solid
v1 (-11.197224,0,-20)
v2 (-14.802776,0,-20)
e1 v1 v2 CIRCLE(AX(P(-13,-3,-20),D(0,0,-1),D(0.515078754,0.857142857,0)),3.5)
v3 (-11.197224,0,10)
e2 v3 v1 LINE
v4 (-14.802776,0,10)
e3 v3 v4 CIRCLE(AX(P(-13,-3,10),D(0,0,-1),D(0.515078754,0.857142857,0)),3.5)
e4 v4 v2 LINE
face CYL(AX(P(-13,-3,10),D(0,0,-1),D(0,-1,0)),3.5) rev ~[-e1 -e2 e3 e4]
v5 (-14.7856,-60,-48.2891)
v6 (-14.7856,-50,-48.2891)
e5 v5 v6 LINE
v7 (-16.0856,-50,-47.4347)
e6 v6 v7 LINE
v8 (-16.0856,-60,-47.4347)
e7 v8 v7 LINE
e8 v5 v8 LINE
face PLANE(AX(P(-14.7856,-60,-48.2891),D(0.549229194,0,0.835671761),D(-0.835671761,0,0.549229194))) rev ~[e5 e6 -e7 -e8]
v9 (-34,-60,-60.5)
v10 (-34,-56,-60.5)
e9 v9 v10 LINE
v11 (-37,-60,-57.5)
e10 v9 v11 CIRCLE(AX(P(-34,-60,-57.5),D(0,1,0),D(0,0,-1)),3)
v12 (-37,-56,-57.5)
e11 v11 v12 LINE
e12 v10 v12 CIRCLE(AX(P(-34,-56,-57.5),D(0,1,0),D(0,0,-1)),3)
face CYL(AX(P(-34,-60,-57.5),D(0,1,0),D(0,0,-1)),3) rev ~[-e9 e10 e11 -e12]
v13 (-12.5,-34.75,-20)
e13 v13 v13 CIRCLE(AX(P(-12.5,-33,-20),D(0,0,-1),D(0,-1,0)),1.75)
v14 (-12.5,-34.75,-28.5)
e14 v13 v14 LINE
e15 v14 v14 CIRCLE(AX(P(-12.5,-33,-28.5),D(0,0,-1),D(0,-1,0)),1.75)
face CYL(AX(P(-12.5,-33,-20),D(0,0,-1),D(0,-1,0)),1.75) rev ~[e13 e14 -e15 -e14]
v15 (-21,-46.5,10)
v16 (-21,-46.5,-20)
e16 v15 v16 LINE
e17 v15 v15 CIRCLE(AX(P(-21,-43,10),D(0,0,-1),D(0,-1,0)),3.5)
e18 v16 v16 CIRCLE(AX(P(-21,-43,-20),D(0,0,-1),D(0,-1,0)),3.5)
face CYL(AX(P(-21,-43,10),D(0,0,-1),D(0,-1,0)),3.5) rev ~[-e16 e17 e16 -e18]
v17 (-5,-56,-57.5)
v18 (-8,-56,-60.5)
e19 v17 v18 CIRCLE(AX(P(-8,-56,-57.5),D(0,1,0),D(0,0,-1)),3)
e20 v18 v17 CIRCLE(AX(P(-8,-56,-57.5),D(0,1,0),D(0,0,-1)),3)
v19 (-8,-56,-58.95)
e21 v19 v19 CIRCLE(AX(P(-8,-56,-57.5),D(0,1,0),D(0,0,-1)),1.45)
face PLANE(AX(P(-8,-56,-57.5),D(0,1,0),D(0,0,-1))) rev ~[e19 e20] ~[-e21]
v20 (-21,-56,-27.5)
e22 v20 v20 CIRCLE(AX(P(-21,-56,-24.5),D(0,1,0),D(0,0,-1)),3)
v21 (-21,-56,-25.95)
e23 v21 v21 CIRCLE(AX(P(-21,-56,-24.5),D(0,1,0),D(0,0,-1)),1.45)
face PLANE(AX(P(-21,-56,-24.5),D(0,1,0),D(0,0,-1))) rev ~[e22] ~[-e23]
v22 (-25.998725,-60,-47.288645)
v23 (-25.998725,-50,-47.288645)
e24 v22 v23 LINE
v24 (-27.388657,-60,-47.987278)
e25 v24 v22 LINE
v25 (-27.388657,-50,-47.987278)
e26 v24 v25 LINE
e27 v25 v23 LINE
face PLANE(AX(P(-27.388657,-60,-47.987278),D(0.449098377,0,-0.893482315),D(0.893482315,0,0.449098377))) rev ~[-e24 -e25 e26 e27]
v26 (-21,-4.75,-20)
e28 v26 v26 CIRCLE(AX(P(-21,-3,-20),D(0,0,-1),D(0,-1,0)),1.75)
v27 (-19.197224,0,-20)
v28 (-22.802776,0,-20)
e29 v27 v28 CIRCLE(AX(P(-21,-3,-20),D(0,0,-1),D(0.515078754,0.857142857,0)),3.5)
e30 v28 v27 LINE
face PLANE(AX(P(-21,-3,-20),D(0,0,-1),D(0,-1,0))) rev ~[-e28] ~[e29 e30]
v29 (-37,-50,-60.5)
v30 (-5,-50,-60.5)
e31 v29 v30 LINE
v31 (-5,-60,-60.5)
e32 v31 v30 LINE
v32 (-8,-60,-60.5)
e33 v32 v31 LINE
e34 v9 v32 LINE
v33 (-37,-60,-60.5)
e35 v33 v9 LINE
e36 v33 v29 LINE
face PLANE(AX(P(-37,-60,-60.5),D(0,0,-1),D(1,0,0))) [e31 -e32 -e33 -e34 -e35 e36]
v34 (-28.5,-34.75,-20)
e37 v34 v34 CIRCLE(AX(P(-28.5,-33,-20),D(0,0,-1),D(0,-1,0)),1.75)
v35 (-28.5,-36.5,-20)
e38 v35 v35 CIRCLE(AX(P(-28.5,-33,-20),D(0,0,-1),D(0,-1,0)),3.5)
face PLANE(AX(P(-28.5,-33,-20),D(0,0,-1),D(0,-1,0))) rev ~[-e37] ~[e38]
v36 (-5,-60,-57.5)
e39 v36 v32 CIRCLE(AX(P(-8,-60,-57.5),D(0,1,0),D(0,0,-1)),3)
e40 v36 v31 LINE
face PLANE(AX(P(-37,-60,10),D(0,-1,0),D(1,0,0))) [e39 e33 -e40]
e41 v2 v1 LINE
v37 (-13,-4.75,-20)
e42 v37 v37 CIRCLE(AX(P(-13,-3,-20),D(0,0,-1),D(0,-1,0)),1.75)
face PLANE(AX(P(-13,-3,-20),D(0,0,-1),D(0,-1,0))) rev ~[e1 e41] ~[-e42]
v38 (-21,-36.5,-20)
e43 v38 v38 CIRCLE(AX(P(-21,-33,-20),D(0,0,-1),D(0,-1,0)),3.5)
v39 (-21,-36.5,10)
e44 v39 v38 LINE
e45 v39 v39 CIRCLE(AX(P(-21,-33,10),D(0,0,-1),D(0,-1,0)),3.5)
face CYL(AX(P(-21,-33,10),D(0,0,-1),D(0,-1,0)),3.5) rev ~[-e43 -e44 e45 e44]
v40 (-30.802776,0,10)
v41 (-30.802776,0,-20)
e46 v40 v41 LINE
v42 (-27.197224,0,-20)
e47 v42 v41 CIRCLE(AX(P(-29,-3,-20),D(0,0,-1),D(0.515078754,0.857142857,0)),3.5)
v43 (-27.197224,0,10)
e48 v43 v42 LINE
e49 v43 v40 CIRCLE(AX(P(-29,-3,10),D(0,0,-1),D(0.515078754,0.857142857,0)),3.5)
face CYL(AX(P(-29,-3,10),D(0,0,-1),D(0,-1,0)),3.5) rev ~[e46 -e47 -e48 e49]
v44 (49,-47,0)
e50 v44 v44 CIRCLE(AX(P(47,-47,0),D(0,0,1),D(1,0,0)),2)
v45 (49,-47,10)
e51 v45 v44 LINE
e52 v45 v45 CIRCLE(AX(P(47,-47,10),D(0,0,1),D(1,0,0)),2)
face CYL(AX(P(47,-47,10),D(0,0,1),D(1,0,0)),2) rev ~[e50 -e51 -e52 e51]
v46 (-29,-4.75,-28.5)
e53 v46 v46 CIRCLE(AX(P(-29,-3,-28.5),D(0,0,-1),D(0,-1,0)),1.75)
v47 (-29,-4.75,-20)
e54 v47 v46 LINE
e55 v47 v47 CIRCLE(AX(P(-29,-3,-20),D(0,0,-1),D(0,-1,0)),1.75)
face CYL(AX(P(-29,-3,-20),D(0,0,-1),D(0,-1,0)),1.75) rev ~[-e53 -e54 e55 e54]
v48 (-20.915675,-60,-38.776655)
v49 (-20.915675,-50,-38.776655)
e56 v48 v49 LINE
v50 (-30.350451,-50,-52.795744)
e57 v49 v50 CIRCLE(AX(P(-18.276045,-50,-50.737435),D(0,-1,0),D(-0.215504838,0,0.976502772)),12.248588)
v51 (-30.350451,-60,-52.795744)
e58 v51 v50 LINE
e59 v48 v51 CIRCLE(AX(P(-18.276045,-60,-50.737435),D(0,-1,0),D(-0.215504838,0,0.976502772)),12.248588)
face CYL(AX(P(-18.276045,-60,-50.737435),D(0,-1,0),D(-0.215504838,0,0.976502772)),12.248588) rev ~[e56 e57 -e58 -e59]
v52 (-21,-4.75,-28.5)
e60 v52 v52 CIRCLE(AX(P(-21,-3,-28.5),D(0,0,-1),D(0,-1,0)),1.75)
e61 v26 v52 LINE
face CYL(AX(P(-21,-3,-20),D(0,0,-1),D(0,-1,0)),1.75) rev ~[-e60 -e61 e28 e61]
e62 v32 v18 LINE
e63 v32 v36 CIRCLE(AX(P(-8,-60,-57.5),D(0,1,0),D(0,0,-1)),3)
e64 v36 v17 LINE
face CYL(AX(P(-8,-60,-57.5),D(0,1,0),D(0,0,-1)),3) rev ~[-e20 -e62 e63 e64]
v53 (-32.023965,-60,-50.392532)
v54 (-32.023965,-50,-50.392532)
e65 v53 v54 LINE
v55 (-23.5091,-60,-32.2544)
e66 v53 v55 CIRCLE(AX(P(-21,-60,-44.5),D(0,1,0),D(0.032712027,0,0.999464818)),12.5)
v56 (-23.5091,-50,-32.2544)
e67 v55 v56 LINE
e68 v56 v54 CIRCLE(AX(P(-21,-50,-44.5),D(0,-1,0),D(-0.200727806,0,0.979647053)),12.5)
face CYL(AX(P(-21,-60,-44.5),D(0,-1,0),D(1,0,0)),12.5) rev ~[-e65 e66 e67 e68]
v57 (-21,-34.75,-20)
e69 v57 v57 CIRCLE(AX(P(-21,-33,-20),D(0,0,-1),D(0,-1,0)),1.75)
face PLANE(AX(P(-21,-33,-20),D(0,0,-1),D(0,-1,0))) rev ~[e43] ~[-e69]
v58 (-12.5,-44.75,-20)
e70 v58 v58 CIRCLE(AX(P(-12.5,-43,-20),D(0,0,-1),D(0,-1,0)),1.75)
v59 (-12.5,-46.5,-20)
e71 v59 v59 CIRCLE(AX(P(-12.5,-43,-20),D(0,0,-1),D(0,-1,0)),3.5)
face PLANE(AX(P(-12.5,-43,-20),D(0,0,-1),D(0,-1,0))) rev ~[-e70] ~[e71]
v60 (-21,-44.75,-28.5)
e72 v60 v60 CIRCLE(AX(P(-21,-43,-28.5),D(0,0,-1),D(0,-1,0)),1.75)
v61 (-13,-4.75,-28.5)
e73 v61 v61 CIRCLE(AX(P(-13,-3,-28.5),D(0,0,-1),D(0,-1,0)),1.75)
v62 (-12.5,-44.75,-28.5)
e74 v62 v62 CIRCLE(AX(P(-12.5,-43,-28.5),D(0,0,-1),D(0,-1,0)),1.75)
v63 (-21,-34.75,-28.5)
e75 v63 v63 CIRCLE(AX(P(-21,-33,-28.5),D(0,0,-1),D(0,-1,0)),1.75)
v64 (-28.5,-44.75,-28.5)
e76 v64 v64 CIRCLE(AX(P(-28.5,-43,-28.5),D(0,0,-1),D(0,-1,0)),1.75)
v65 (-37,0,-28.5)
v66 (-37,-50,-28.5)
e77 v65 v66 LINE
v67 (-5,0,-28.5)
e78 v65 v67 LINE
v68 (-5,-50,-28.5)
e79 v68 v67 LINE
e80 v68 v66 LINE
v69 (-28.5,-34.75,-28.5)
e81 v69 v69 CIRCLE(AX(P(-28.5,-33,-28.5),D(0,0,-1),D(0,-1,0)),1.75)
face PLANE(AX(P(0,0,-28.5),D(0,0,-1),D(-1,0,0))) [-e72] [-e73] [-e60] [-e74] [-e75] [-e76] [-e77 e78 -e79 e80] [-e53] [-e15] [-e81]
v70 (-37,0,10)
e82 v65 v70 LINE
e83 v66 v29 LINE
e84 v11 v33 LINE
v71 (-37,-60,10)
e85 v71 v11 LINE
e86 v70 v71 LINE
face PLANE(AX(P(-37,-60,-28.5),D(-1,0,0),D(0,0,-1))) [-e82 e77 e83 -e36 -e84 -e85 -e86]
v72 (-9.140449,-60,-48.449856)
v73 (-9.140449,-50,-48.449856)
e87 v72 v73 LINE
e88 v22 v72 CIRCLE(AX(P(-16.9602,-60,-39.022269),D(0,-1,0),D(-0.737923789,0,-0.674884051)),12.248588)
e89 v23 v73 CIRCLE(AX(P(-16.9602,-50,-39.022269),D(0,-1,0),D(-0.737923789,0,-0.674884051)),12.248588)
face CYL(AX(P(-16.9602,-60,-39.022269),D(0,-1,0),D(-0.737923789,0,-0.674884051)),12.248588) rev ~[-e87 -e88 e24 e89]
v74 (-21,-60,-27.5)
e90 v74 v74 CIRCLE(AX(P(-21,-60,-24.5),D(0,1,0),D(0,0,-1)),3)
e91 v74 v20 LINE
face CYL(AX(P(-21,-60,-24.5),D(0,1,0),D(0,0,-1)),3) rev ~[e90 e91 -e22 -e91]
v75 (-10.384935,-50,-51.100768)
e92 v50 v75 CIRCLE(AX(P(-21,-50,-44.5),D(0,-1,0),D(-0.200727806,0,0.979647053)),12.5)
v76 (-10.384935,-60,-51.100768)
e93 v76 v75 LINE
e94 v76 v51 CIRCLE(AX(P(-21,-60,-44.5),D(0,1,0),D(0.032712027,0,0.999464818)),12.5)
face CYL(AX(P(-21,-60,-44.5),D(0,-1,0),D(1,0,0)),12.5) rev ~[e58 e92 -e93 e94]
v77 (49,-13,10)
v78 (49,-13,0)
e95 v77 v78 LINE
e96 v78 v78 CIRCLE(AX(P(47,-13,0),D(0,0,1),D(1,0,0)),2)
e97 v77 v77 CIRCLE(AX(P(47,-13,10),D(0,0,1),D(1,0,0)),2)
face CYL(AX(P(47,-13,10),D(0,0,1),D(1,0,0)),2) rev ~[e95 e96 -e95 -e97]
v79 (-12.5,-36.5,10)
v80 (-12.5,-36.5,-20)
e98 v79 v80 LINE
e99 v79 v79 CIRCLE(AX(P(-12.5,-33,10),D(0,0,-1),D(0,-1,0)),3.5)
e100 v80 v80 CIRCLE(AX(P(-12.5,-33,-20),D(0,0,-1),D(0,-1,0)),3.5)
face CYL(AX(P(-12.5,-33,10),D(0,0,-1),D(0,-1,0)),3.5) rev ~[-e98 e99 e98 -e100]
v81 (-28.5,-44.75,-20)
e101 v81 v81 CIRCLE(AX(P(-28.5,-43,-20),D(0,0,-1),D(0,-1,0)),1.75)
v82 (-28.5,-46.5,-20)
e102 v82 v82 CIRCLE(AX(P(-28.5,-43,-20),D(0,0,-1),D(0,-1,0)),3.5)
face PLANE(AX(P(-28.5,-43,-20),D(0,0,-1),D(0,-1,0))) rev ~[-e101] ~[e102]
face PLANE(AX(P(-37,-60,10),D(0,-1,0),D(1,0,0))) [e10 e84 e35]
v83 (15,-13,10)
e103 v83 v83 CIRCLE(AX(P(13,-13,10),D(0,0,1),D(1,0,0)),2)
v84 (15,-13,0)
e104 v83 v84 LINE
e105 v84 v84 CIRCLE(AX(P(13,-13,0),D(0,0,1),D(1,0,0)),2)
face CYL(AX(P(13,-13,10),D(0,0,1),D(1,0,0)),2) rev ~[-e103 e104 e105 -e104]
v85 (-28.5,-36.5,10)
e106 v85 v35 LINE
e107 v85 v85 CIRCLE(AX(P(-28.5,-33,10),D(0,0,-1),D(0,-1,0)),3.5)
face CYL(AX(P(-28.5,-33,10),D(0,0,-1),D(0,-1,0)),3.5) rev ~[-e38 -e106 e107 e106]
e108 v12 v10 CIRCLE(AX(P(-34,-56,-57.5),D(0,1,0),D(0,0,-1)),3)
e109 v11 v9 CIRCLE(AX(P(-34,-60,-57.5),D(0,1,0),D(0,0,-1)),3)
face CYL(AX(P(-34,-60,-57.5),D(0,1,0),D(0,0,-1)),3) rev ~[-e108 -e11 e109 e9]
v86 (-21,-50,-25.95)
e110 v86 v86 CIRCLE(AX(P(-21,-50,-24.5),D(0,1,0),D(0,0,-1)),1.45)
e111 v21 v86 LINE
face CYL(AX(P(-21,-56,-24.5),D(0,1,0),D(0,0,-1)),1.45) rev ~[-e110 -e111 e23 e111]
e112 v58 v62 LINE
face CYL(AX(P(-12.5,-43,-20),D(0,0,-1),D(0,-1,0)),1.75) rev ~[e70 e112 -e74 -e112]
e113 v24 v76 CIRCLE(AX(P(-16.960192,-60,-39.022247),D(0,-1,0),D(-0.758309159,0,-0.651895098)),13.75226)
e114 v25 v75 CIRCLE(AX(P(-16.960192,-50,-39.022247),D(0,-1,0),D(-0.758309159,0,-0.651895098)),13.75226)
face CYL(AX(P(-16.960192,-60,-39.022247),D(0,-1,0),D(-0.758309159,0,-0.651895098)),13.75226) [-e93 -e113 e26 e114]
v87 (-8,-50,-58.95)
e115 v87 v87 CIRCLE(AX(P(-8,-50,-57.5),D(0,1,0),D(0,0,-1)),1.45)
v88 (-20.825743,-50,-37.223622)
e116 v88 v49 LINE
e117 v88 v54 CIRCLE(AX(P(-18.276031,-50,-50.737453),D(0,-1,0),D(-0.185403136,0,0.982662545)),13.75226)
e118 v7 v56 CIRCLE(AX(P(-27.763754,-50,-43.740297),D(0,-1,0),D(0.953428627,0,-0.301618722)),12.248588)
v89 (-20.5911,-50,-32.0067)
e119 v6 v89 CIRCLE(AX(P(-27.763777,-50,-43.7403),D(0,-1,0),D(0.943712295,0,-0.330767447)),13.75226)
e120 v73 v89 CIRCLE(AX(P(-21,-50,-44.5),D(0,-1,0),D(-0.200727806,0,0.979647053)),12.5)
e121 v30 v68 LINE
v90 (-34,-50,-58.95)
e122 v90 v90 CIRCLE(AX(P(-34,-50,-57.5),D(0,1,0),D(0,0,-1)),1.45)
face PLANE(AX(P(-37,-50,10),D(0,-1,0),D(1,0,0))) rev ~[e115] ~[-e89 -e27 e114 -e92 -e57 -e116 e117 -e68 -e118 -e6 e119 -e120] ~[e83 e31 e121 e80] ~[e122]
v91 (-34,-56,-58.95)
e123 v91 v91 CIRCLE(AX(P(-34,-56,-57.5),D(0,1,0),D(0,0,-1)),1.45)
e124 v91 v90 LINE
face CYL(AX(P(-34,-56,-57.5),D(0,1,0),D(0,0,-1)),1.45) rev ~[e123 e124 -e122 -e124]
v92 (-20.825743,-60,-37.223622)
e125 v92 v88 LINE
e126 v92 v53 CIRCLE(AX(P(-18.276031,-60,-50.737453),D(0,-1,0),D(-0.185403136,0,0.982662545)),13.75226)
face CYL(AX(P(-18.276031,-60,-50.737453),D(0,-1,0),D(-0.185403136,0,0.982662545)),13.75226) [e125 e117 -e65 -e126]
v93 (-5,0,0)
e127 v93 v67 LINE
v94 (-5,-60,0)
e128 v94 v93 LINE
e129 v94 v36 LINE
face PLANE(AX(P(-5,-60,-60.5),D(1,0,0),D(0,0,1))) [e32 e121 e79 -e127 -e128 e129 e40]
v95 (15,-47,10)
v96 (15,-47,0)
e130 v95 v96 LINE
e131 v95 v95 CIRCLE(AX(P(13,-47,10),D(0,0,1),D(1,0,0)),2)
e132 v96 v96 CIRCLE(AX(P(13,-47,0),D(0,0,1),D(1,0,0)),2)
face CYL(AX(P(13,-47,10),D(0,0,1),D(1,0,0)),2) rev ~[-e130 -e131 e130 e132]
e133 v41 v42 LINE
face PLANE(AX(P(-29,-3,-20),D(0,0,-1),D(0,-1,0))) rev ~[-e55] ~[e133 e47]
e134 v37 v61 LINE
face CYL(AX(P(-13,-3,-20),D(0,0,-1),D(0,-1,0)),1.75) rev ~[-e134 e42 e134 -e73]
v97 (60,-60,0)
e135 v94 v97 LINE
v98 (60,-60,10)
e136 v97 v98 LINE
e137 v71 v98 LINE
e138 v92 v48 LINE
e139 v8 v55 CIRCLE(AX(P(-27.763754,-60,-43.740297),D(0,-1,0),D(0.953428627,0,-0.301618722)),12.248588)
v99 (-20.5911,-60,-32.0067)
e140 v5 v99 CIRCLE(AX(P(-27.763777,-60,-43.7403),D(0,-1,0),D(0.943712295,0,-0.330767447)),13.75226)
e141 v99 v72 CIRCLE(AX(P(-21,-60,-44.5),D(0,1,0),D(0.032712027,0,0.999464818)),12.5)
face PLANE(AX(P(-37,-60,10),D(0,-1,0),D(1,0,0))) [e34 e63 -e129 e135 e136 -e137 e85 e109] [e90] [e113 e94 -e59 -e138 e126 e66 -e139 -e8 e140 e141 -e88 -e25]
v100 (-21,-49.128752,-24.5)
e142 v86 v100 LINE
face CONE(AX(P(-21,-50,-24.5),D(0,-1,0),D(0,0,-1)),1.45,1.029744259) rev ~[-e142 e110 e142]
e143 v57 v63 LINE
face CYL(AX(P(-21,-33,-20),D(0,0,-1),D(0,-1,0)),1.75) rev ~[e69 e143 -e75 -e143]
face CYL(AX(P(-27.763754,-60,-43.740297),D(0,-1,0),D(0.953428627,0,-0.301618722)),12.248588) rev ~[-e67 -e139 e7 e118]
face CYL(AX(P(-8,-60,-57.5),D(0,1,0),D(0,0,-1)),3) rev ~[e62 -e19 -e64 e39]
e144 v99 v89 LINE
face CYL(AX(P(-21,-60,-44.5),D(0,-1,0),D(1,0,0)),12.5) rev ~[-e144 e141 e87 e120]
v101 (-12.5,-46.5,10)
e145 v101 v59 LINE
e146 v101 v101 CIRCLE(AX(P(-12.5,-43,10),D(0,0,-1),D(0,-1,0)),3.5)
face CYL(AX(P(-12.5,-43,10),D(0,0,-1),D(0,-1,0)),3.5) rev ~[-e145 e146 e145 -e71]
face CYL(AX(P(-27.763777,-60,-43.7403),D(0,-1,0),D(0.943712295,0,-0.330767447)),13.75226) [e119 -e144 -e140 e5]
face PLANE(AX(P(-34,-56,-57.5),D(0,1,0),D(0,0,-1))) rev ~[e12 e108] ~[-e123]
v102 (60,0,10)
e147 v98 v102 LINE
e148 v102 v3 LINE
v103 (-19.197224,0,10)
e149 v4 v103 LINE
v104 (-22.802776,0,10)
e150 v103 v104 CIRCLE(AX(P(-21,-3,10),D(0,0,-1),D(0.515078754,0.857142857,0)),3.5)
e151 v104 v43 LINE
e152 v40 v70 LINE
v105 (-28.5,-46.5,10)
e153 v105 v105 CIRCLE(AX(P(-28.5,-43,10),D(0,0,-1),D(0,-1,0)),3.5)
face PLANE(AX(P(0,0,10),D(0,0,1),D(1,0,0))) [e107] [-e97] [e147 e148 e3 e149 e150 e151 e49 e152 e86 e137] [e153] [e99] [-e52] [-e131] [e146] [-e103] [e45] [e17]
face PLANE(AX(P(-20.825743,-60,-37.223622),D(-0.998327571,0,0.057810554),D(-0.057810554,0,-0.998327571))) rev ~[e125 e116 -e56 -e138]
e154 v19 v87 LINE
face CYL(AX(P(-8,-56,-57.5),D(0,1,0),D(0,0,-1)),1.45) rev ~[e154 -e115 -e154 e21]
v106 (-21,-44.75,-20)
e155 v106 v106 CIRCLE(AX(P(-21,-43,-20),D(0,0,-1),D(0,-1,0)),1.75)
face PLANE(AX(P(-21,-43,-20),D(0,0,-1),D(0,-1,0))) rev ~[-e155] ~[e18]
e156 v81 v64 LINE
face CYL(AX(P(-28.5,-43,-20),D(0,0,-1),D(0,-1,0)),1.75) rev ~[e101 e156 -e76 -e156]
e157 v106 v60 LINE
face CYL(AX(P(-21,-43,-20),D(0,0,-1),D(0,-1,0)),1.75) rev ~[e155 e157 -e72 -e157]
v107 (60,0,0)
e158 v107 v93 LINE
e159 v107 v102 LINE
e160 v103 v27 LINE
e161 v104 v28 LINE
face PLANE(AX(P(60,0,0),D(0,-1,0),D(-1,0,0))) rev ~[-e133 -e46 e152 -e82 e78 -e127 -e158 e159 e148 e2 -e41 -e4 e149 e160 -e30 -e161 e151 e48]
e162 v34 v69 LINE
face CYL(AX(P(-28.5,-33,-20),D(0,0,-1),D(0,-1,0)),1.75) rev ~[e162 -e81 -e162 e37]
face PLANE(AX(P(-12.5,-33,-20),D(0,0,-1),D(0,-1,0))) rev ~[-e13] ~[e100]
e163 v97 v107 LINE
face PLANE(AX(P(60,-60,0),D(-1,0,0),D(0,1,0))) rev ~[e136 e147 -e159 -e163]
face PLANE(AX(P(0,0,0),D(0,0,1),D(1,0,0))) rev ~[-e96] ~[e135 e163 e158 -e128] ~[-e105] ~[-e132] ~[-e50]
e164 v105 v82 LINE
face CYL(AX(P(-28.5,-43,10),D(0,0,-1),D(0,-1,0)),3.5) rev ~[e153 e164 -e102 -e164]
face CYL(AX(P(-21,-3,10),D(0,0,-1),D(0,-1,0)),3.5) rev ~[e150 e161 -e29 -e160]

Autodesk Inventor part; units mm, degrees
ref_plane "YZ Plane" through (0, 0, 0) normal (1, 0, 0) x (0, 1, 0)
ref_plane "XZ Plane" through (0, 0, 0) normal (0, 1, 0) x (-1, 0, 0)
ref_plane "Work Plane1" through (0, 0, 0) normal (0, 0, 1) x (1, 0, 0)
sketch "Sketch1" plane through (0, 0, 0) normal (0, 0, 1) x (1, 0, 0)
  arc A0 (27, -22.0618) -> (22.0618, -27) centre (24.7, -24.7) ccw construction
  line L0 (27, 0) -> (27, -22.0618) construction
  line L1 (27, 0) -> (0, 0) construction
  line L2 (0, 0) -> (0, -27) construction
  line L3 (22.0618, -27) -> (0, -27) construction
  circle A1 centre (13, -13) radius 1.65 construction
  circle A2 centre (10, -22.5) radius 1.55 construction
  circle A3 centre (10, -7.5) radius 1.55 construction
  circle A4 centre (20, -20) radius 1.05 construction
  circle A5 centre (7.5, -10) radius 1.55 construction
  circle A6 centre (22.5, -10) radius 1.55 construction
  arc A7 (22.0618, -33) -> (27, -37.9382) centre (24.7, -35.3) ccw construction
  line L4 (0, -33) -> (22.0618, -33) construction
  line L5 (0, -33) -> (0, -60) construction
  line L6 (0, -60) -> (27, -60) construction
  line L7 (27, -37.9382) -> (27, -60) construction
  circle A8 centre (13, -47) radius 1.65 construction
  circle A9 centre (10, -52.5) radius 1.55 construction
  circle A10 centre (10, -37.5) radius 1.55 construction
  circle A11 centre (20, -40) radius 1.05 construction
  circle A12 centre (7.5, -50) radius 1.55 construction
  circle A13 centre (22.5, -50) radius 1.55 construction
  arc A14 (33, -37.9382) -> (37.9382, -33) centre (35.3, -35.3) ccw construction
  line L8 (33, -60) -> (33, -37.9382) construction
  line L9 (33, -60) -> (60, -60) construction
  line L10 (60, -60) -> (60, -33) construction
  line L11 (37.9382, -33) -> (60, -33) construction
  circle A15 centre (47, -47) radius 1.65 construction
  circle A16 centre (50, -52.5) radius 1.55 construction
  circle A17 centre (50, -37.5) radius 1.55 construction
  circle A18 centre (40, -40) radius 1.05 construction
  circle A19 centre (37.5, -50) radius 1.55 construction
  circle A20 centre (52.5, -50) radius 1.55 construction
  arc A21 (37.9382, -27) -> (33, -22.0618) centre (35.3, -24.7) ccw construction
  line L12 (60, -27) -> (37.9382, -27) construction
  line L13 (60, -27) -> (60, 0) construction
  line L14 (60, 0) -> (33, 0) construction
  line L15 (33, -22.0618) -> (33, 0) construction
  circle A22 centre (47, -13) radius 1.65 construction
  circle A23 centre (50, -22.5) radius 1.55 construction
  circle A24 centre (50, -7.5) radius 1.55 construction
  circle A25 centre (40, -20) radius 1.05 construction
  circle A26 centre (37.5, -10) radius 1.55 construction
  circle A27 centre (52.5, -10) radius 1.55 construction
  line L16 (60, 0) -> (-37, 0) construction
  line L17 (-37, 0) -> (-37, -60) construction
  line L18 (-37, -60) -> (60, -60) construction
  line L19 (60, -60) -> (60, 0) construction
  line L20 (60, 0) -> (-37, 0)
  line L21 (-37, 0) -> (-37, -60)
  line L22 (-37, -60) -> (60, -60)
  line L23 (60, -60) -> (60, 0)
  line L24 (-37, 0) -> (-37, -48) projected
extrude "Extrusion1" add sketch "Sketch1" along normal blind 10
sketch "Sketch2" plane through (0, 0, 0) normal (0, 0, -1) x (-1, 0, 0)
  circle A0 centre (21, -3) radius 1 projected
  circle A1 centre (28.5, -33) radius 1 projected
  circle A2 centre (12.5, -33) radius 1.0474 projected
  circle A3 centre (12.5, -43) radius 1 projected
  circle A4 centre (21, -43) radius 1 projected
  circle A5 centre (28.5, -43) radius 1 projected
  circle A6 centre (21, -33) radius 1 projected
  circle A7 centre (29, -3) radius 1 projected
  circle A8 centre (13, -3) radius 1 projected
  line L0 (37, 0) -> (5, 0) projected
  line L1 (37, 0) -> (37, -48) projected
  line L2 (5, -48) -> (37, -48) projected
  line L3 (5, 0) -> (5, -48) projected
  line L4 (37, -48) -> (5, -48)
  line L5 (5, -48) -> (5, -60)
  line L6 (5, -60) -> (37, -60)
  line L7 (37, -60) -> (37, -48)
  point P0 (0, 0)
ref_plane "Work Plane2" through (-37, -48, -28.5) normal (0, 0, 1) x (1, 0, 0)
extrude "Extrusion2" add sketch "Sketch2" along normal up to surface (28.5 mm away) contours A0 | A1 | A2 | A3 | A4 | A5 | A6 | A7 | A8 | L1 L2 L3 L0 | L7 L6 L5 L2
sketch "Sketch3" plane through (0, 0, 10) normal (0, 0, 1) x (1, 0, 0)
  line L0 (0, 0) -> (0, -60) construction
  line L1 (60, 0) -> (0, 0) construction
  line L2 (60, -60) -> (60, 0) construction
  line L3 (0, -60) -> (60, -60) construction
  line L4 (27.1959, -58) -> (26.6538, -58) construction
  line L5 (27.7692, -53.6731) -> (27.1959, -58) construction
  line L6 (29.9435, -58) -> (27.7692, -53.6731) construction
  line L7 (30.0649, -58) -> (29.9435, -58) construction
  line L8 (32.2308, -53.6827) -> (30.0649, -58) construction
  line L9 (32.8053, -58) -> (32.2308, -53.6827) construction
  line L10 (33.3462, -58) -> (32.8053, -58) construction
  line L11 (32.5493, -52) -> (33.3462, -58) construction
  line L12 (32.4712, -52) -> (32.5493, -52) construction
  line L13 (30, -56.9231) -> (32.4712, -52) construction
  line L14 (27.5228, -52) -> (30, -56.9231) construction
  line L15 (27.4459, -52) -> (27.5228, -52) construction
  line L16 (26.6538, -58) -> (27.4459, -52) construction
  circle A0 centre (24.7, -24.7) radius 1.6 construction
  circle A1 centre (35.3, -24.7) radius 1.6 construction
  circle A2 centre (35.3, -35.3) radius 1.6 construction
  circle A3 centre (24.7, -35.3) radius 1.6 construction
  circle A4 centre (52.5, -50) radius 1.55 construction
  circle A5 centre (52.5, -10) radius 1.55 construction
  circle A6 centre (37.5, -50) radius 1.55 construction
  circle A7 centre (37.5, -10) radius 1.55 construction
  circle A8 centre (22.5, -50) radius 1.55 construction
  circle A9 centre (22.5, -10) radius 1.55 construction
  circle A10 centre (7.5, -50) radius 1.55 construction
  circle A11 centre (7.5, -10) radius 1.55 construction
  circle A12 centre (40, -40) radius 1.05 construction
  circle A13 centre (20, -40) radius 1.05 construction
  circle A14 centre (40, -20) radius 1.05 construction
  circle A15 centre (20, -20) radius 1.05 construction
  circle A16 centre (47, -47) radius 1.65 construction
  circle A17 centre (13, -47) radius 1.65 construction
  circle A18 centre (30, -47) radius 1.65 construction
  circle A19 centre (47, -13) radius 1.65 construction
  circle A20 centre (13, -13) radius 1.65 construction
  circle A21 centre (30, -13) radius 1.65 construction
  circle A22 centre (47, -30) radius 1.65 construction
  circle A23 centre (13, -30) radius 1.65 construction
  circle A24 centre (30, -30) radius 1.65 construction
  circle A25 centre (10, -52.5) radius 1.55 construction
  circle A26 centre (10, -37.5) radius 1.55 construction
  circle A27 centre (10, -22.5) radius 1.55 construction
  circle A28 centre (10, -7.5) radius 1.55 construction
  circle A29 centre (50, -52.5) radius 1.55 construction
  circle A30 centre (50, -37.5) radius 1.55 construction
  circle A31 centre (50, -22.5) radius 1.55 construction
  circle A32 centre (50, -7.5) radius 1.55 construction
  circle A33 centre (13, -13) radius 1.65 construction
  circle A34 centre (13, -13) radius 1.65 projected
  circle A35 centre (47, -13) radius 1.65 projected
  circle A36 centre (47, -47) radius 1.65 projected
  circle A37 centre (13, -47) radius 1.65 projected
  circle A38 centre (13, -13) radius 2
  circle A39 centre (47, -13) radius 2
  circle A40 centre (47, -47) radius 2
  circle A41 centre (13, -47) radius 2
  dimension "d6" = 4
  dimension "d7" = 4
  dimension "d8" = 4
  dimension "d9" = 4
extrude "Extrusion3" cut sketch "Sketch3" against normal through all contours A34 | A35 | A36 | A37 | A38 | A39 | A40 | A41
sketch "Sketch4" plane through (0, 0, 10) normal (0, 0, 1) x (1, 0, 0)
  circle A0 centre (-21, -3) radius 1 projected
  circle A1 centre (-28.5, -33) radius 1 projected
  circle A2 centre (-12.5, -33) radius 1.0474 projected
  circle A3 centre (-12.5, -43) radius 1 projected
  circle A4 centre (-21, -43) radius 1 projected
  circle A5 centre (-28.5, -43) radius 1 projected
  circle A6 centre (-21, -33) radius 1 projected
  circle A7 centre (-29, -3) radius 1 projected
  circle A8 centre (-13, -3) radius 1 projected
  line L0 (-37, 0) -> (-5, 0) projected
  line L1 (-37, 0) -> (-37, -48) projected
  line L2 (-5, -48) -> (-37, -48) projected
  line L3 (-5, 0) -> (-5, -48) projected
  point P0 (0, 0)
hole "Hole1" at (-12.5, -43, 10) at (-21, -43, 10) at (-28.5, -43, 10) at (-28.5, -33, 10) at (-21, -33, 10) at (-12.5, -33, 10) at (-13, -3, 10) at (-21, -3, 10) at (-29, -3, 10) direction (0, 0, -1) diameter 3.5 end through all counterbore diameter 7 counterbore depth 30
sketch "Sketch5" plane through (-37, -60, 10) normal (0, -1, 0) x (1, 0, 0)
  line L0 (32, -10) -> (97, -10) projected
  line L1 (97, -10) -> (97, 0) projected
  line L2 (0, 0) -> (97, 0) projected
  line L3 (0, -38.5) -> (0, 0) projected
  line L4 (32, -38.5) -> (0, -38.5) projected
  line L5 (32, -10) -> (32, -38.5) projected
  circle A0 centre (16, -54.5) radius 2.5 construction
  line L6 (0, -70.5) -> (32, -70.5) projected
  line L7 (32, -38.5) -> (0, -38.5)
  line L8 (0, -38.5) -> (0, -70.5)
  line L9 (0, -70.5) -> (32, -70.5)
  line L10 (32, -70.5) -> (32, -38.5)
  circle A1 centre (16, -54.5) radius 12.5
  point P0 (37, -10)
  dimension "d18" = 25
extrude "Extrusion4" add sketch "Sketch5" against normal blind 10 contours L10 L6 L8 L4
sketch "Sketch6" plane through (-37, -60, 10) normal (0, -1, 0) x (1, 0, 0)
  circle A0 centre (16, -54.5) radius 12.5 projected
  arc A1 (22.2144, -58.2891) -> (16.4089, -42.0067) centre (9.2362, -53.7403) ccw
  circle A2 centre (16, -54.5) radius 12.5 projected
  arc A3 (20.9144, -57.4347) -> (13.4909, -42.2544) centre (9.2362, -53.7403) ccw
  line L0 (22.2144, -58.2891) -> (20.9144, -57.4347)
  arc A4 (16.4089, -42.0067) -> (13.4909, -42.2544) centre (16, -54.5) ccw
  point P0 (37, -10)
  dimension "d21" = 1.3
extrude "Extrusion5" add sketch "Sketch6" against normal up to surface (10 mm away) contours A1 L0 A3 A0 picked at (20.8673, -47.5497)
pattern_circular "Circular Pattern1" count 3 over 360 about axis through (-21, -60, -44.5) along (0, 1, 0) of "Extrusion5"
sketch "Sketch7" plane through (-37, -60, 10) normal (0, -1, 0) x (1, 0, 0)
  arc A0 (27.8595, -58.4499) -> (16.4089, -42.0067) centre (16, -54.5) ccw projected
  line L0 (3, -41.5) -> (29, -41.5) construction
  line L1 (29, -41.5) -> (29, -67.5) construction
  line L2 (29, -67.5) -> (3, -67.5) construction
  line L3 (3, -67.5) -> (3, -41.5) construction
  line L4 (3, -41.5) -> (29, -67.5) construction
  line L5 (29, -41.5) -> (3, -67.5) construction
  line L6 (16, -54.5) -> (16, -34.5) construction
  point P0 (37, -10)
  dimension "d27" = 26
  dimension "d28" = 26
  dimension "d29" = 20
hole "Hole2" at (-8, -60, -57.5) at (-34, -60, -57.5) at (-21, -60, -24.5) direction (0, 1, 0) diameter 2.9 depth 10 tip angle 118 counterbore diameter 6 counterbore depth 4
properties part number "04_Bridge_Laser_Nanomax"
